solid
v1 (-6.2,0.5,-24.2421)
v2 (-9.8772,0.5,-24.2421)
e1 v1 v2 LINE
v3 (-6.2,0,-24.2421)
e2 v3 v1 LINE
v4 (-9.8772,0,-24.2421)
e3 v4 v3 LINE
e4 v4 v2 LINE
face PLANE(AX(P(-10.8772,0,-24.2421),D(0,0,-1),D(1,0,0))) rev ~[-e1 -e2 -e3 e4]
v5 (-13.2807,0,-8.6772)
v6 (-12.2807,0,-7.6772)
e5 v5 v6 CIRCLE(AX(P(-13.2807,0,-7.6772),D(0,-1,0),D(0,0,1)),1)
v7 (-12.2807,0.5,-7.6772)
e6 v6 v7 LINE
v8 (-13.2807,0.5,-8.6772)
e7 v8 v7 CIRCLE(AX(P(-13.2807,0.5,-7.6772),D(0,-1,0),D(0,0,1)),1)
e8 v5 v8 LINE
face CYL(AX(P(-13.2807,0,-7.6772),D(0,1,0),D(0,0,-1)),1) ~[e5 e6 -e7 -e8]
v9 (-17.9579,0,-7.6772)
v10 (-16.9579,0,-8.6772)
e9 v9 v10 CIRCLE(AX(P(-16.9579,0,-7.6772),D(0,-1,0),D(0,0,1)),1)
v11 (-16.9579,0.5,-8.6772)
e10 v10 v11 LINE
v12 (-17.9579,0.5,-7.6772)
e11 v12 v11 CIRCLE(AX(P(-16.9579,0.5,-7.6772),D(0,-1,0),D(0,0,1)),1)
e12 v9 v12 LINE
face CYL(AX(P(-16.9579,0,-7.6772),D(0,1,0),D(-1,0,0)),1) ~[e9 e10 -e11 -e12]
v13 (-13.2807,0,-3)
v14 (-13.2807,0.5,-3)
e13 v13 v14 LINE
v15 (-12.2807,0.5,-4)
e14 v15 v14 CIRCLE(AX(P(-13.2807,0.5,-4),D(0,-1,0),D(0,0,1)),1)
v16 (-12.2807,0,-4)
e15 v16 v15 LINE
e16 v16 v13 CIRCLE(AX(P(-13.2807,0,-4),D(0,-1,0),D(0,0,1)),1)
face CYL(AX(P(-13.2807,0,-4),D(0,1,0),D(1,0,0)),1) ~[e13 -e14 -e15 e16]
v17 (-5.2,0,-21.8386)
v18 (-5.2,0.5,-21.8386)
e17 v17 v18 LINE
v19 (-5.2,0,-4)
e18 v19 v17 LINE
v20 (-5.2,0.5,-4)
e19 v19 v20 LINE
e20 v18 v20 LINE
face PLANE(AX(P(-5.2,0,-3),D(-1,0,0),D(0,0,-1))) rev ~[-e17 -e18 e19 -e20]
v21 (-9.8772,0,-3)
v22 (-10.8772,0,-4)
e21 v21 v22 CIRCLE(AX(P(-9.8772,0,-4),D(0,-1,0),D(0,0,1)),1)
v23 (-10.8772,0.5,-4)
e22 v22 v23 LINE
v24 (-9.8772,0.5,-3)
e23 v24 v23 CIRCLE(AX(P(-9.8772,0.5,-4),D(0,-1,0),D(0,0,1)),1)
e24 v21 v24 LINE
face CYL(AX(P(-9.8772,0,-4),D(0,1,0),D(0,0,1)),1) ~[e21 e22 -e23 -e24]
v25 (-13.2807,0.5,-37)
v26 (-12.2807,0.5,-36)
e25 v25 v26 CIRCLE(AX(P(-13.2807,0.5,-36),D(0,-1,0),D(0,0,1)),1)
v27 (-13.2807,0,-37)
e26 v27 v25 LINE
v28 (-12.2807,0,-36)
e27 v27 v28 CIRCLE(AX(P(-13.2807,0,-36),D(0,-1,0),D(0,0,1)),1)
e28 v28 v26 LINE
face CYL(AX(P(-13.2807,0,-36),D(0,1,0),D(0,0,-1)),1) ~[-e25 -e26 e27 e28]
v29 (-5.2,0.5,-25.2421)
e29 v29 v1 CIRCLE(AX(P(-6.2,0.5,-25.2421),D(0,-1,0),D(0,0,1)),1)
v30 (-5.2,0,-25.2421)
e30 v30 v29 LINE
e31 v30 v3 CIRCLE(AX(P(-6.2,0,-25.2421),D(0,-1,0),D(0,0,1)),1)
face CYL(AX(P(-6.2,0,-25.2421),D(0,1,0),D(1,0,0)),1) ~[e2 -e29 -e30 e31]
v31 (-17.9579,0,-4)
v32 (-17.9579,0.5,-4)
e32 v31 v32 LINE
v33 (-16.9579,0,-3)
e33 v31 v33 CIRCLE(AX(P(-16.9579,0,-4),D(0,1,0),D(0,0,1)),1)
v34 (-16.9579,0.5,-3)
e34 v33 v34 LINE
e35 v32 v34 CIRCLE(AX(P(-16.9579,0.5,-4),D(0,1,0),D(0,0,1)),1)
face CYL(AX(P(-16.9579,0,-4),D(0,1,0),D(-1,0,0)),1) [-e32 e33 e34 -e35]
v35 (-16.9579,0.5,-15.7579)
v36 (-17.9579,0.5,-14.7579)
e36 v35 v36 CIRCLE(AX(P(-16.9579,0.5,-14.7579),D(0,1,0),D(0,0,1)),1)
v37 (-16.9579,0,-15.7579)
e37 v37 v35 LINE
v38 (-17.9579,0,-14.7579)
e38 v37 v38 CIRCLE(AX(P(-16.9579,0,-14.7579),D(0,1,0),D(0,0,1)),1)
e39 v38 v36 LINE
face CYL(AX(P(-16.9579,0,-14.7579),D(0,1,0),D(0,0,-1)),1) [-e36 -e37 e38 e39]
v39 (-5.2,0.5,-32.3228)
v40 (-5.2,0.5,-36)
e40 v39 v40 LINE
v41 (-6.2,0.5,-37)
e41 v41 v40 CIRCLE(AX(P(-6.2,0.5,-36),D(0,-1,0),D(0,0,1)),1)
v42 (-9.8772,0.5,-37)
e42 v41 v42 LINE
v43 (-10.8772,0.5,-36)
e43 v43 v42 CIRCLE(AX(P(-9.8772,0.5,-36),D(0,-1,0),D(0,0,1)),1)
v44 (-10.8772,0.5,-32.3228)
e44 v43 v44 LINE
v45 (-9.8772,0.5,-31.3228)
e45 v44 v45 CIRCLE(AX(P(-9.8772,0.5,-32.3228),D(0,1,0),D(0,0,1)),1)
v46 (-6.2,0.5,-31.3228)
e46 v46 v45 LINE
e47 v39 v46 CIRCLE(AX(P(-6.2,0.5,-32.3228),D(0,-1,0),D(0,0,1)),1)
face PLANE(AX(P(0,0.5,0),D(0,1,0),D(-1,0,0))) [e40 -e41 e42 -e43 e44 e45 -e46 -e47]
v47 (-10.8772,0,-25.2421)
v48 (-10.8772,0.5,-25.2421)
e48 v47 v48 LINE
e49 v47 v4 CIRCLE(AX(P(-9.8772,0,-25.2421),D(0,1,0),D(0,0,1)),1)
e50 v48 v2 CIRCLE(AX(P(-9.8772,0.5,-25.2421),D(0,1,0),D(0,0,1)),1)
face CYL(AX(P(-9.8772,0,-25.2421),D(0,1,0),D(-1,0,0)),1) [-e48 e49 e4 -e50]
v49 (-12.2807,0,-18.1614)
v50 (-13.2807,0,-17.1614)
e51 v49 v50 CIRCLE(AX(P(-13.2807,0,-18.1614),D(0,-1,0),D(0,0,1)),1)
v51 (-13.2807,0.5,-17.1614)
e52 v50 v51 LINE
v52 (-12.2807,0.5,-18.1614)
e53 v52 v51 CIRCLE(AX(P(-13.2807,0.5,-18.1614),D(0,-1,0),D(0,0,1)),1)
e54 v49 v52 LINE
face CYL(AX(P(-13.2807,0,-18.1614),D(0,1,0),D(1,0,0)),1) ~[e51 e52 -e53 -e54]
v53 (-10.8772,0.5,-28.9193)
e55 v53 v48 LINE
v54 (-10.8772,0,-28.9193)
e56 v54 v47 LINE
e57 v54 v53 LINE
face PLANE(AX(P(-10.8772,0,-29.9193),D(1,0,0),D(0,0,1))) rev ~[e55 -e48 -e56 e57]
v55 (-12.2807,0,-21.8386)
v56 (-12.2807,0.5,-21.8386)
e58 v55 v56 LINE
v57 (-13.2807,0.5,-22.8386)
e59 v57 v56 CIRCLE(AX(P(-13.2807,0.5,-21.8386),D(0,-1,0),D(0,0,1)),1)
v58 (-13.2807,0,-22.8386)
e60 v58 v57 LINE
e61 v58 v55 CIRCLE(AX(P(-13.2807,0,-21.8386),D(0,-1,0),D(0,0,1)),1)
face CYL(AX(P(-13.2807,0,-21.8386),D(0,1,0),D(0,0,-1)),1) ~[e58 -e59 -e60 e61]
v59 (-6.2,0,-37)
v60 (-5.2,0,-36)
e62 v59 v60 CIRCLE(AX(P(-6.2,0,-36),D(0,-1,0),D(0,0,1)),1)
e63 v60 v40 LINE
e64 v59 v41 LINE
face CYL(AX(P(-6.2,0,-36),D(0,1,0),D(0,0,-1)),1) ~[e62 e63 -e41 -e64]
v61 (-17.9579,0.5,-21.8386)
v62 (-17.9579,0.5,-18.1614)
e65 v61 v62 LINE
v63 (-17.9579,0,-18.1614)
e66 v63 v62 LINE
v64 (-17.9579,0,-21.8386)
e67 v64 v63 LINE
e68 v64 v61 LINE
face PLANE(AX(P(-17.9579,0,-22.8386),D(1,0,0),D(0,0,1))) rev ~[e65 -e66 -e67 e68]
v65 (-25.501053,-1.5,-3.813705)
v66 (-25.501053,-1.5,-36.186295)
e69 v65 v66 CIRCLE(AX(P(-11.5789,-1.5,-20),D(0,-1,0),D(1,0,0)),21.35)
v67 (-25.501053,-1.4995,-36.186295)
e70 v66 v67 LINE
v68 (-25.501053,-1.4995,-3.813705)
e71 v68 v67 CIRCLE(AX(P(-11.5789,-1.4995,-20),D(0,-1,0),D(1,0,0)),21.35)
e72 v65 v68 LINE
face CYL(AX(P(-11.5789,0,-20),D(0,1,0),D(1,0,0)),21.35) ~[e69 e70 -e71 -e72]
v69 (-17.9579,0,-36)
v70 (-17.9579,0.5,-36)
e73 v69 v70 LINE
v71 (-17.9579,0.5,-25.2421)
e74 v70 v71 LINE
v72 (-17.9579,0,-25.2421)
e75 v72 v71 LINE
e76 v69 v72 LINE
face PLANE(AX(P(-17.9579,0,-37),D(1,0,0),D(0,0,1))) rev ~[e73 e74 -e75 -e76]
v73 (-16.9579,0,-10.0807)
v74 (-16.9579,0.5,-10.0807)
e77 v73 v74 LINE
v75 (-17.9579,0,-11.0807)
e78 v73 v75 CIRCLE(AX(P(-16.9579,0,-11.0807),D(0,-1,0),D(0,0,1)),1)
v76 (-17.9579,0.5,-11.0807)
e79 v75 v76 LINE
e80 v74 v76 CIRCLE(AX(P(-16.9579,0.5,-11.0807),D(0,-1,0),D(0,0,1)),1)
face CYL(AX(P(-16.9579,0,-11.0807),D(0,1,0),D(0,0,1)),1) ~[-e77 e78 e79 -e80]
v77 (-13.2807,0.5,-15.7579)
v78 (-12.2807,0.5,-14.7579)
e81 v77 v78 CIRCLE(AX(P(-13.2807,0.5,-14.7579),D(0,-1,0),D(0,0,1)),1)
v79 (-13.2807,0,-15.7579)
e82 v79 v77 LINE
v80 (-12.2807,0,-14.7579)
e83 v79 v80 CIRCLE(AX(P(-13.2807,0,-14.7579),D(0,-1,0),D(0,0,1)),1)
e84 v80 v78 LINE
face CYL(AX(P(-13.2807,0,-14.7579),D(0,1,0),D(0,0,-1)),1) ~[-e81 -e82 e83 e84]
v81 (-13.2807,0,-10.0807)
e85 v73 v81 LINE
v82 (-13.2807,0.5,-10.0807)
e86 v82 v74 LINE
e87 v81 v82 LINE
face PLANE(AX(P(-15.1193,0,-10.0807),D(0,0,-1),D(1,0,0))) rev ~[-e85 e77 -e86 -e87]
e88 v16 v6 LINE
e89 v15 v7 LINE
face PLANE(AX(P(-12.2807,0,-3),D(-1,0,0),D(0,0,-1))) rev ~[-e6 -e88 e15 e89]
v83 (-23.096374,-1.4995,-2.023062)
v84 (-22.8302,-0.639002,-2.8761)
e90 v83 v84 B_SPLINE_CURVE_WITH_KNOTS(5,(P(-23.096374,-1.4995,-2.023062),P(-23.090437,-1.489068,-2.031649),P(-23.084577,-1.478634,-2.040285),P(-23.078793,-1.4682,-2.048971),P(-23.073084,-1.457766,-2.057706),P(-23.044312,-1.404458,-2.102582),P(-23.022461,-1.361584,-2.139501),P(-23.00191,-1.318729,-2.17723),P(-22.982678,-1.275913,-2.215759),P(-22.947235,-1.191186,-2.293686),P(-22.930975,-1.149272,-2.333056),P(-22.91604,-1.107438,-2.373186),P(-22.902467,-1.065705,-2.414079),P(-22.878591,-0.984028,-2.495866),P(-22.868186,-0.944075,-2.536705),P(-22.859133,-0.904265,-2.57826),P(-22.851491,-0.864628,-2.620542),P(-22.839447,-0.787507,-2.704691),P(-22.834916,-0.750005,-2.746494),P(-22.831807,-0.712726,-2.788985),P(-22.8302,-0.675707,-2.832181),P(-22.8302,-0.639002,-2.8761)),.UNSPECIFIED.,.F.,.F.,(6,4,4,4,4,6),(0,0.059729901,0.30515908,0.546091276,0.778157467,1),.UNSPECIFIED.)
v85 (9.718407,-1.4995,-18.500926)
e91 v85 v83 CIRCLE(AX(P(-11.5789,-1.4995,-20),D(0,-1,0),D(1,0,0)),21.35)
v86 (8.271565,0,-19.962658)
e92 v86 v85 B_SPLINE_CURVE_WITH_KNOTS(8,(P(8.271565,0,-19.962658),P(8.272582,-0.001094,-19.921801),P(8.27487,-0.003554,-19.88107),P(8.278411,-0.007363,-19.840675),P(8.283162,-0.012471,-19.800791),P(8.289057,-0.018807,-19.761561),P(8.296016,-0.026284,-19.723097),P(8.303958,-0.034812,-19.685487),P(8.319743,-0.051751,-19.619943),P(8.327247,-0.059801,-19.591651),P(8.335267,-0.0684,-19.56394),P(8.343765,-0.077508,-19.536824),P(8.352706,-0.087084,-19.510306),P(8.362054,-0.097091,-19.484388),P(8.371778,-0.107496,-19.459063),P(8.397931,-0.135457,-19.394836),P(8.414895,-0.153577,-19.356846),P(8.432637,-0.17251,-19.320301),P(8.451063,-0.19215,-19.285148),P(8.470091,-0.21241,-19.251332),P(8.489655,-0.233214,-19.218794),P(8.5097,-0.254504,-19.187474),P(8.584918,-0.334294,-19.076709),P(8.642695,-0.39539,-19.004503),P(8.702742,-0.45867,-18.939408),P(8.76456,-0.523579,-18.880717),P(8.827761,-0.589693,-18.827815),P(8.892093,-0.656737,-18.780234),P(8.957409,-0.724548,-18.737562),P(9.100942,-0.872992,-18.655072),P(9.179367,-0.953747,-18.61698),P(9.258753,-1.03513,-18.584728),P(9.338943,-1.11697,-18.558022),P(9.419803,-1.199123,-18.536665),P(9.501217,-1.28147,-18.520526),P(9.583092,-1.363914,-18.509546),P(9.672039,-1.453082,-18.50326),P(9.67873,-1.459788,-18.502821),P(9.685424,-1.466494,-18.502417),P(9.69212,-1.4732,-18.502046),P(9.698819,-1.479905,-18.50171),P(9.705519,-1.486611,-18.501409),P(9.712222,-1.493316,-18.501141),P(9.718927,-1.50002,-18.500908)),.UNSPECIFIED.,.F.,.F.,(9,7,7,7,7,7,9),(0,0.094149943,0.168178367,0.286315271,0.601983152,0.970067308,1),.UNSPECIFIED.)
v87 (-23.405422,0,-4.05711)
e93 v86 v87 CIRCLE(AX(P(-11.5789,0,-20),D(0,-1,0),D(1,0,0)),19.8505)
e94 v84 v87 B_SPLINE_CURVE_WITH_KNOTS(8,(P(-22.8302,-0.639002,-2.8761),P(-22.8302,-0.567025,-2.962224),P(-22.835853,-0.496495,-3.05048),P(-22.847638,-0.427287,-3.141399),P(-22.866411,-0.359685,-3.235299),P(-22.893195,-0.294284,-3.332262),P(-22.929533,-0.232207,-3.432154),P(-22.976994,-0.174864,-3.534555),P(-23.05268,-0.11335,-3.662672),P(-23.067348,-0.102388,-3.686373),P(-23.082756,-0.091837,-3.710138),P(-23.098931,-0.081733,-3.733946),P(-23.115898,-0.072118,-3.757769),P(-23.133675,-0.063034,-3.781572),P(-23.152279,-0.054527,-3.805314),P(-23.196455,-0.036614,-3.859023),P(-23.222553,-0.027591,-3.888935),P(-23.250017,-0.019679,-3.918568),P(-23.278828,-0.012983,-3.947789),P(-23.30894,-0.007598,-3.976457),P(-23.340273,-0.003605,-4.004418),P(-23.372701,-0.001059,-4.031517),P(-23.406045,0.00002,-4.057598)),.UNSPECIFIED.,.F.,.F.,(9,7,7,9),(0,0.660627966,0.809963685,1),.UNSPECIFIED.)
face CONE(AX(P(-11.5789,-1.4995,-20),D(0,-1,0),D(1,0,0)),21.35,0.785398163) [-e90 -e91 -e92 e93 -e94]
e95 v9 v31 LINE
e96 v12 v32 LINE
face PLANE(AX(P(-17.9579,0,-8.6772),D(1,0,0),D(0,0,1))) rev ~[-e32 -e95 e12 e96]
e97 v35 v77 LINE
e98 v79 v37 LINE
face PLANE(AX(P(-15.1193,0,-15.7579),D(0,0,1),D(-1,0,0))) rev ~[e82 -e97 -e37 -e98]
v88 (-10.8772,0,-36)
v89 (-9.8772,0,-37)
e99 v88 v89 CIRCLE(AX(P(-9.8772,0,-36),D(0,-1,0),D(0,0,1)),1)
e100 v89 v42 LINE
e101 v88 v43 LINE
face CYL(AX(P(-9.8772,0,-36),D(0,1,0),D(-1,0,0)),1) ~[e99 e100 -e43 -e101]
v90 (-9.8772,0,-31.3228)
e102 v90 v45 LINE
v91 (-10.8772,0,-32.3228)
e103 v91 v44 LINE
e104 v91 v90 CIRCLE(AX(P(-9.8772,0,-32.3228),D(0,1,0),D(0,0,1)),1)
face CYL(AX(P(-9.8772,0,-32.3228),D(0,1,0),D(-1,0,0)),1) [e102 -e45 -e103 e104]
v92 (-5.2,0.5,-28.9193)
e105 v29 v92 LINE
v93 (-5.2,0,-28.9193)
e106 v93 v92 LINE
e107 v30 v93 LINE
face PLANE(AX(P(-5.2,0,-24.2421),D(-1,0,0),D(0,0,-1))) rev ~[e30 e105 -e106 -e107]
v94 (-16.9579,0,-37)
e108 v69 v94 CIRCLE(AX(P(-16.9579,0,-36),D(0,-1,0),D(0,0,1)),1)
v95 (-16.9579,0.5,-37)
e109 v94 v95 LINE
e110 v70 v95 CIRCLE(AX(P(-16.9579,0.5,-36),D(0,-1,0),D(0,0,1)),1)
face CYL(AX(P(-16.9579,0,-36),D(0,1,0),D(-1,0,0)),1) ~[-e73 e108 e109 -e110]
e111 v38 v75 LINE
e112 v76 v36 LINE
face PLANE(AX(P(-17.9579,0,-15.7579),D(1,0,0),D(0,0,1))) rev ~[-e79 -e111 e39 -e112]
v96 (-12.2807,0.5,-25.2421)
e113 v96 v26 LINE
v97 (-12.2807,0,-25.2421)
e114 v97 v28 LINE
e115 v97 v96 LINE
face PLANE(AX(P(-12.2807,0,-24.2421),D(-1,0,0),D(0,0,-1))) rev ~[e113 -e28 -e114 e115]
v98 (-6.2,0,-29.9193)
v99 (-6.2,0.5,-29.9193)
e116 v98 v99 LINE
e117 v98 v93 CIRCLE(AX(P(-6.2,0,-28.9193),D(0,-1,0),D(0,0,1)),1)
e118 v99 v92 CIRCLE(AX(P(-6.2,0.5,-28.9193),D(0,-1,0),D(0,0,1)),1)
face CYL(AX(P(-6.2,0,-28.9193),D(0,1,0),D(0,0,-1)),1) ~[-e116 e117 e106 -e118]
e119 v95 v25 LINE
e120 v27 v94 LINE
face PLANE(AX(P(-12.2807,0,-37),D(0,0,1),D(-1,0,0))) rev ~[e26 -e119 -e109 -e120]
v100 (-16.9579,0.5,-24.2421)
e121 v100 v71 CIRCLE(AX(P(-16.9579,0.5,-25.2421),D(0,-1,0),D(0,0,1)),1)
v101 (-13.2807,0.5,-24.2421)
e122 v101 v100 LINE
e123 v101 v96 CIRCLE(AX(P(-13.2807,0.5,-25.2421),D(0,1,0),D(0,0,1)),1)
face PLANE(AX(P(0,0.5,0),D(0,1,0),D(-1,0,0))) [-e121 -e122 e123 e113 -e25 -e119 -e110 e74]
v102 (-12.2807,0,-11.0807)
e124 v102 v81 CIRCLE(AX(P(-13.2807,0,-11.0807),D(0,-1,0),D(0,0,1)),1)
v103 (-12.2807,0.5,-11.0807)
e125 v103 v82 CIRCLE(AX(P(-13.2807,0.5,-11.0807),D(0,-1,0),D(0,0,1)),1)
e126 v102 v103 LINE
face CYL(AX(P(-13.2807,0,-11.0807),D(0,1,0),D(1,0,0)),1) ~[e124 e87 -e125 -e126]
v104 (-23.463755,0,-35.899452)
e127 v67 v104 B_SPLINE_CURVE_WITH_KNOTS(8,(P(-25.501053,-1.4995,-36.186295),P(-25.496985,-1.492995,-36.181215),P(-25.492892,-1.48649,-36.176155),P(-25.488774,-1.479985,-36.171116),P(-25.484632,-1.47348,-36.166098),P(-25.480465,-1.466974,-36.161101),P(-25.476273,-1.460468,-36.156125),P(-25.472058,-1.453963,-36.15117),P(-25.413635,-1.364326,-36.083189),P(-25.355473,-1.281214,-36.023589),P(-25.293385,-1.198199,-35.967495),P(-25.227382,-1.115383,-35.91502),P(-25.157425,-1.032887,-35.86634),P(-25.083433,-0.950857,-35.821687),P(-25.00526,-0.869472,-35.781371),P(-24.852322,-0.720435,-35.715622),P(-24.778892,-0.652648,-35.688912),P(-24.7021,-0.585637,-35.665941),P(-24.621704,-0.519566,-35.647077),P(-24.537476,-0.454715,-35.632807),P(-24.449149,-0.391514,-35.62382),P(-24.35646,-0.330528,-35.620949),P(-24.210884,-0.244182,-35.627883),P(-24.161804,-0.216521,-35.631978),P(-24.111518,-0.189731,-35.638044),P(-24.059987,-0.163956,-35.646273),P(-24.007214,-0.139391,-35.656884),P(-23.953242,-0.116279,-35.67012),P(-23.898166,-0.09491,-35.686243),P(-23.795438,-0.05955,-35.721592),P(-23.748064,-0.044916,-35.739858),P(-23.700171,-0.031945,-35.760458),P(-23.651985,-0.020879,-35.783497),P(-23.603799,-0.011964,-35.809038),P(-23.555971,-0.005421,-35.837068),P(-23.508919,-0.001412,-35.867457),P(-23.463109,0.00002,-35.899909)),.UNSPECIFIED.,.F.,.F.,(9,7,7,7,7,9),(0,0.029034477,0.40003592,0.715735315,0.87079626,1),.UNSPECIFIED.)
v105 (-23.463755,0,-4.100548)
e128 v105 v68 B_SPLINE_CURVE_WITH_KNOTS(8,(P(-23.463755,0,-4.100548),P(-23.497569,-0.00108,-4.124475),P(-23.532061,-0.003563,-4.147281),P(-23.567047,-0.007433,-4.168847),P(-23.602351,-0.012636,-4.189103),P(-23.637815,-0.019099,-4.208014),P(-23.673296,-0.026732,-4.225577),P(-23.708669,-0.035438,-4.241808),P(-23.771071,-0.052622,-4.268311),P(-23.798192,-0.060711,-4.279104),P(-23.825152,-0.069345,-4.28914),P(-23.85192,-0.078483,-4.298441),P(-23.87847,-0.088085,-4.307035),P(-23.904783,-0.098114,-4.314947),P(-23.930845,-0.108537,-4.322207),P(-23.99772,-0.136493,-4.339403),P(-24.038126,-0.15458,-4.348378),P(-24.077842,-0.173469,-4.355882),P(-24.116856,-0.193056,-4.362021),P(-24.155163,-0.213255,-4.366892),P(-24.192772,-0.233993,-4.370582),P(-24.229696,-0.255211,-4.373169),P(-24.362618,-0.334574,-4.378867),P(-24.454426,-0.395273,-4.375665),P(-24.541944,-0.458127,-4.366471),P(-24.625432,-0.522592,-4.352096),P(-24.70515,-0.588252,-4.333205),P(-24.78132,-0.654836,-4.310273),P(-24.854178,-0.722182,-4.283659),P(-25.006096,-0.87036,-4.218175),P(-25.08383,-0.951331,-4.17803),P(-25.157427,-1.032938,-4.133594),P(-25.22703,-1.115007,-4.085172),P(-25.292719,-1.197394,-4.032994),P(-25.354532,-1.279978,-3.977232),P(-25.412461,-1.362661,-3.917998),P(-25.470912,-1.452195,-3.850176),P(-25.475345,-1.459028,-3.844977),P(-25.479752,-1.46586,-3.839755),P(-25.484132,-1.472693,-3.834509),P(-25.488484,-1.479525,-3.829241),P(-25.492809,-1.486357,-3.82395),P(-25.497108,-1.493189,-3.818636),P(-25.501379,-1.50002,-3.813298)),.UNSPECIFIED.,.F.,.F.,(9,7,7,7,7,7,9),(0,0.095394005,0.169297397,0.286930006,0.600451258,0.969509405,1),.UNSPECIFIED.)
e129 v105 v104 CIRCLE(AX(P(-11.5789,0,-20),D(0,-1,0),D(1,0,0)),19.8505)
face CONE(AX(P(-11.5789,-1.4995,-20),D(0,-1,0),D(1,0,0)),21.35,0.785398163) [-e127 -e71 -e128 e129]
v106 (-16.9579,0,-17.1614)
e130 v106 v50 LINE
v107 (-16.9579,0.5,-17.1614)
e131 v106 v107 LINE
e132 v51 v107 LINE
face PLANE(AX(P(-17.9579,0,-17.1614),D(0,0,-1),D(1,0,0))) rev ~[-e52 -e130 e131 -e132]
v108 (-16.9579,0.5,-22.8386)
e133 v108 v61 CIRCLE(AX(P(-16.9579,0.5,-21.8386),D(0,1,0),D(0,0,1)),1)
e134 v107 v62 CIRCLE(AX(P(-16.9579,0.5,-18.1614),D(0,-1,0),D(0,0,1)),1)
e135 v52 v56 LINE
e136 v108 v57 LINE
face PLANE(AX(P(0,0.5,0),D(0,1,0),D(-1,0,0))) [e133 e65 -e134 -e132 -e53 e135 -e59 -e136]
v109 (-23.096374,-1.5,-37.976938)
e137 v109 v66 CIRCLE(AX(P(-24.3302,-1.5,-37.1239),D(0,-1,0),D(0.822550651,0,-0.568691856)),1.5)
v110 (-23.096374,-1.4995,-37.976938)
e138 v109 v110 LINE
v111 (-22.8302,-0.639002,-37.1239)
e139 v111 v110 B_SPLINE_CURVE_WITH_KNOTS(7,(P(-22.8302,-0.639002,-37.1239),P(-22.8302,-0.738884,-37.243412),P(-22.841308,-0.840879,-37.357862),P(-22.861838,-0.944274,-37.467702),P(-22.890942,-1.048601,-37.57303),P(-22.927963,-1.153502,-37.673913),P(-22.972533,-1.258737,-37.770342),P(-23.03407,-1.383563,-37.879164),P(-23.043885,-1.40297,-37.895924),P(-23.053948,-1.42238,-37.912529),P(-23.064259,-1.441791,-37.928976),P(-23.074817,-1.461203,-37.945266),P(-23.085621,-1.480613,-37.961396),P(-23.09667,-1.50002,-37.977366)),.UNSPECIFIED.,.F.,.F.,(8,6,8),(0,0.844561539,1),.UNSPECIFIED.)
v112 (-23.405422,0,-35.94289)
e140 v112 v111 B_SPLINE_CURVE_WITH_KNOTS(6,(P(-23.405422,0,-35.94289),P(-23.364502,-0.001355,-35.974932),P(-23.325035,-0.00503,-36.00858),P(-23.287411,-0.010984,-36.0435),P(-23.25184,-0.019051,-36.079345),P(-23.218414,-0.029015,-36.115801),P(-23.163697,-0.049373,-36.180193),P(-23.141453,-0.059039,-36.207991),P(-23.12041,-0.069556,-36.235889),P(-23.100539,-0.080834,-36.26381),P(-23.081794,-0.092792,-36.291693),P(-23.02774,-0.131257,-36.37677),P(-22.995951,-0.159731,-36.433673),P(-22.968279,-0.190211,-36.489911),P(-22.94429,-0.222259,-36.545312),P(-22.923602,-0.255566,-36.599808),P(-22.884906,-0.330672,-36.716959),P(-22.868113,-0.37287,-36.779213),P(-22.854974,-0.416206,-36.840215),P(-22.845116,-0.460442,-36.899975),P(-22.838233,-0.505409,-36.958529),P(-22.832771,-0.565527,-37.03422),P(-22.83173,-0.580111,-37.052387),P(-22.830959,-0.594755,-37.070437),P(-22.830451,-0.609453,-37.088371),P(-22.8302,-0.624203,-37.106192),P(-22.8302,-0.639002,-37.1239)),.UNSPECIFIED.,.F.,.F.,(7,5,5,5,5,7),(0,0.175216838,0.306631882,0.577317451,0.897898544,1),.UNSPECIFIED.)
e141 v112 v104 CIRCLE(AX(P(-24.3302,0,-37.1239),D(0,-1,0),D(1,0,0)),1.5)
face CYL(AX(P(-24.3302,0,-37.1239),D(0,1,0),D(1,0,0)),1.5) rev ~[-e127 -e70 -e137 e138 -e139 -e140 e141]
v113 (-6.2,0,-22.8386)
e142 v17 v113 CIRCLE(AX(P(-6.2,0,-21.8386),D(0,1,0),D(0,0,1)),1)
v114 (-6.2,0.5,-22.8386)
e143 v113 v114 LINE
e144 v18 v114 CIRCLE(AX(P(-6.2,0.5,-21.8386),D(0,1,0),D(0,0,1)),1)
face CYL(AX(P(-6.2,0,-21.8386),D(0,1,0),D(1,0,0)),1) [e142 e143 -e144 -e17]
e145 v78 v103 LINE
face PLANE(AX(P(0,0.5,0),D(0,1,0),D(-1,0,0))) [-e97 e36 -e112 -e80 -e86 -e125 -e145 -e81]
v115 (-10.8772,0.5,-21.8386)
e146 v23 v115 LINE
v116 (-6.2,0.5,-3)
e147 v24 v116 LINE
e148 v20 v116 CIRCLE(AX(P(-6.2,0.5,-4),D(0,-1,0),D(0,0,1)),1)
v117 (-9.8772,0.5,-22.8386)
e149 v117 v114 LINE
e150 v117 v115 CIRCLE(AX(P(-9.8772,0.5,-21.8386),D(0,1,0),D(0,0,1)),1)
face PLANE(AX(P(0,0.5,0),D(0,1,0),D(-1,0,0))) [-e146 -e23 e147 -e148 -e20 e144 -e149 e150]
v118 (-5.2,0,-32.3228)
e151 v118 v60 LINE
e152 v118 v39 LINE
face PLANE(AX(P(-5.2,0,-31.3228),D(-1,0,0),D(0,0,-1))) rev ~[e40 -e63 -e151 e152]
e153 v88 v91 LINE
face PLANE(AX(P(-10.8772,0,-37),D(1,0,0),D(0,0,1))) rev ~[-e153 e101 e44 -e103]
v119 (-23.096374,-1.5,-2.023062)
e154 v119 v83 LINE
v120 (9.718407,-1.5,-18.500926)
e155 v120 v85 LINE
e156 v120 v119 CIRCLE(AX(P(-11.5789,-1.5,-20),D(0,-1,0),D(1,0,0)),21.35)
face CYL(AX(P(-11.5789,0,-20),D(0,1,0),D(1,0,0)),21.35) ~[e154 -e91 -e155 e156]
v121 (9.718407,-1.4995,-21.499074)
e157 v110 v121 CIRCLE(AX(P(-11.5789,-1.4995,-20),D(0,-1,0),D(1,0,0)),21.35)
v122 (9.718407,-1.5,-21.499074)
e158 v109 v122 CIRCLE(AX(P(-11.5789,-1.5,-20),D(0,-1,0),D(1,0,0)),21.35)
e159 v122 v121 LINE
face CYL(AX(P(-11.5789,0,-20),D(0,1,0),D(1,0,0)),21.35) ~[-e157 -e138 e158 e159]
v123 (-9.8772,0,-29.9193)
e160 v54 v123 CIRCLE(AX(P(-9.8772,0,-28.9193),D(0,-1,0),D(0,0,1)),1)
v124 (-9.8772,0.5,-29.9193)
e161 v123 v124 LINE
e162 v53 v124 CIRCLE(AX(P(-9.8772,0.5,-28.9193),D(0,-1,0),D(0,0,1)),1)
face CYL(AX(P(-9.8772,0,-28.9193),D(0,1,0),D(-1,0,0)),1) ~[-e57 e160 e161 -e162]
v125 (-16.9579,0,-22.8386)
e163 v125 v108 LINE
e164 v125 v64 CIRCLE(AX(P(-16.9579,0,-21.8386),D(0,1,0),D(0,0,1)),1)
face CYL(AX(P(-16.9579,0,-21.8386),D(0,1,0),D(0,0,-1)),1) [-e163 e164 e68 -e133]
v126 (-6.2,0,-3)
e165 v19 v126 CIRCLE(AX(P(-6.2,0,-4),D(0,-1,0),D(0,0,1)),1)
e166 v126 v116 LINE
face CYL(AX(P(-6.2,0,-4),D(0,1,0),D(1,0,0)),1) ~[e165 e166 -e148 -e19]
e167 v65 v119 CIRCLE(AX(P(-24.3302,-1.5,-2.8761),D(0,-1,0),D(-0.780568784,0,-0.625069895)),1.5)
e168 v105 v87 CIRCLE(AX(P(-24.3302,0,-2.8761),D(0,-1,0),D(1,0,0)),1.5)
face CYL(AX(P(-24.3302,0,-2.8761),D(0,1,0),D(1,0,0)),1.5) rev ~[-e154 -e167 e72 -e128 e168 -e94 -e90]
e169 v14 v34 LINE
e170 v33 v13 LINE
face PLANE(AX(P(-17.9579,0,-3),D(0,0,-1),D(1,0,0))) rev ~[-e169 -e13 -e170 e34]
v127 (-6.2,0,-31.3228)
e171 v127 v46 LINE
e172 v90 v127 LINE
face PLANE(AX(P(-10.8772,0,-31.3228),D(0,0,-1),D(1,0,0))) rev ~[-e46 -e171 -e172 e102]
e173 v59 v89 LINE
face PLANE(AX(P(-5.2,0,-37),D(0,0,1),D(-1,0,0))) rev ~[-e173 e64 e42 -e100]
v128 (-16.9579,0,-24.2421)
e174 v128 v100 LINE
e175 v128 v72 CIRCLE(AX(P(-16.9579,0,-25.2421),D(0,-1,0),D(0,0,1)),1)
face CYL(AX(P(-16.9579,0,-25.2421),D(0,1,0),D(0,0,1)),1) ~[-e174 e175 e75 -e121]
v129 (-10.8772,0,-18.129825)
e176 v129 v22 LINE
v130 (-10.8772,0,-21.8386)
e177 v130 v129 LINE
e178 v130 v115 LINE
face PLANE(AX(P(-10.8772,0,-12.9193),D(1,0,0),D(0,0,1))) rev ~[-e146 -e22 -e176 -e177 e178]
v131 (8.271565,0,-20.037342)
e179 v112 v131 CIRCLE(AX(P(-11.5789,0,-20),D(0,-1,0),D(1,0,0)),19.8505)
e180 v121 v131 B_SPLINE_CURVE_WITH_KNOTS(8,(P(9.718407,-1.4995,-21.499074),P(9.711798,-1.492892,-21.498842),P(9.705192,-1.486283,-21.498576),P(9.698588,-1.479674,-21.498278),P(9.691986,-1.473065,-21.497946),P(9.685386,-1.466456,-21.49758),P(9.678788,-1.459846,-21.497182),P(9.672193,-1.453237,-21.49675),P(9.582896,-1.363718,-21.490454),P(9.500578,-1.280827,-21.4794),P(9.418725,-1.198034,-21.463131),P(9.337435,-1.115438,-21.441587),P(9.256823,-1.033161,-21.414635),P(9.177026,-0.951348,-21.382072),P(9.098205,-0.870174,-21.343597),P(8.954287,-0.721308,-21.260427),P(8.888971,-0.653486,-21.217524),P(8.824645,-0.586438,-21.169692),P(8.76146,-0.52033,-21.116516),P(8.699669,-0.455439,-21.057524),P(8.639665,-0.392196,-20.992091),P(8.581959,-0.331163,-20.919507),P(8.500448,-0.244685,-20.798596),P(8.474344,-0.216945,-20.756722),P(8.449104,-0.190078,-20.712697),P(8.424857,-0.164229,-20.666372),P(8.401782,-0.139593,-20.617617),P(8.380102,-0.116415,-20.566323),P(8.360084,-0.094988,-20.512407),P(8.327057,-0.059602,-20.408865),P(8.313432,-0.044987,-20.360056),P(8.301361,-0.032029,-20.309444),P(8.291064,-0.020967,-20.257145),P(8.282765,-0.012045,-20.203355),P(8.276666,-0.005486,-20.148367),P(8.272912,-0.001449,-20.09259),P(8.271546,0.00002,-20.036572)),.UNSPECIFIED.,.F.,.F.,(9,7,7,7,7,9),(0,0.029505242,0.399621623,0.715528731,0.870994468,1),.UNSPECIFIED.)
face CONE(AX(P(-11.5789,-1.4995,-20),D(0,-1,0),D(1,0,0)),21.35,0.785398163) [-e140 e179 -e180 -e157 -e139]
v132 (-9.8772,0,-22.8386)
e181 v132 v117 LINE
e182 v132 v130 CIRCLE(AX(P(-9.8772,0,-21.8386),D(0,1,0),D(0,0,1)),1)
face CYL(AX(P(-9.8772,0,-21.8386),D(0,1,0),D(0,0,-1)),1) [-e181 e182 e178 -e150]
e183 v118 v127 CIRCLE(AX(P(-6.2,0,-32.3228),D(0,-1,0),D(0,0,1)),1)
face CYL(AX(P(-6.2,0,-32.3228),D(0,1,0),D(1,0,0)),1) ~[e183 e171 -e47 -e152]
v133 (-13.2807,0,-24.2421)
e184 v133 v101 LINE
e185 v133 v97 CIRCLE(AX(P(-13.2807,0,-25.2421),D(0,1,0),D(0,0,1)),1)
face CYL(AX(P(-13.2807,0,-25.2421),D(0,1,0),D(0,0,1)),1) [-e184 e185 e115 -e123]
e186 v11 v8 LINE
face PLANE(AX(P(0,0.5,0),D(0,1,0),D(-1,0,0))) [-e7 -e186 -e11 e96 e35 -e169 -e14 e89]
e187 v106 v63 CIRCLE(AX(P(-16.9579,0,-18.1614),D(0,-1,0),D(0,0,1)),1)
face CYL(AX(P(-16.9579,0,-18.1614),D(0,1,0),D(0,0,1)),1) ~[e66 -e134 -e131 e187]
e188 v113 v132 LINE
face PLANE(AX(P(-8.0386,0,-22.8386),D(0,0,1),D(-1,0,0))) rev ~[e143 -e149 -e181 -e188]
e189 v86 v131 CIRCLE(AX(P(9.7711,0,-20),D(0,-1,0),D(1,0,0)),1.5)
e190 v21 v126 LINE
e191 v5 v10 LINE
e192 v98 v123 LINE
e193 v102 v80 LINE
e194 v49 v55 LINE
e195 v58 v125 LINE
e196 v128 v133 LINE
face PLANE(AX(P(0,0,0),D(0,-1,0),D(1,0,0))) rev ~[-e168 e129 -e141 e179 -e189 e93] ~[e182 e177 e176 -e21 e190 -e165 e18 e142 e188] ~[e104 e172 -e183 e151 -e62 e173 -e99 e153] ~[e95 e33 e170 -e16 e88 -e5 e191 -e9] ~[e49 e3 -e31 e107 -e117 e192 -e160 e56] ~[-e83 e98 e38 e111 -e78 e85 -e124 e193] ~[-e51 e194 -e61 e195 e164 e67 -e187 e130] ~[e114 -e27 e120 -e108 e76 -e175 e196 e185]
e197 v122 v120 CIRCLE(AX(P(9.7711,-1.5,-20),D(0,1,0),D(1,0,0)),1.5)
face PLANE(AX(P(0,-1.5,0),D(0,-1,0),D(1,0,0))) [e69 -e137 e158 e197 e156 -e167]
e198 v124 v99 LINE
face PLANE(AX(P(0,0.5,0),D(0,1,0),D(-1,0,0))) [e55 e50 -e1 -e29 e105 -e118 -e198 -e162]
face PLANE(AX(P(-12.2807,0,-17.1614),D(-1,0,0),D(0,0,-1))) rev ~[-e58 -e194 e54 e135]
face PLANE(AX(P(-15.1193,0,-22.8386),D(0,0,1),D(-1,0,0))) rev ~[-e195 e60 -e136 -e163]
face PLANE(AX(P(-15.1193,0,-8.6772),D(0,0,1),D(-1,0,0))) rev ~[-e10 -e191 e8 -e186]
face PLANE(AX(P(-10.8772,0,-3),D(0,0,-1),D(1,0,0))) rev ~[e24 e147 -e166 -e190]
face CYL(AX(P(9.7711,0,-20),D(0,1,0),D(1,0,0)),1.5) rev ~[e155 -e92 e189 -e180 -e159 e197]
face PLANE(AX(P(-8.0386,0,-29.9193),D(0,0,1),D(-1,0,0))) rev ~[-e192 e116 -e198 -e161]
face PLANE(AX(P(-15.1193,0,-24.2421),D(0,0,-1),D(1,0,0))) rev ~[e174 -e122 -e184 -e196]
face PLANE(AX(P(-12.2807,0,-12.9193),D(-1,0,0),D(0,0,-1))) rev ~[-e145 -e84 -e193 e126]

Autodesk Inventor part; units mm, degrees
ref_plane "YZ Plane" through (0, 0, 0) normal (1, 0, 0) x (0, 1, 0)
ref_plane "XZ Plane" through (0, 0, 0) normal (0, 1, 0) x (-1, 0, 0)
ref_plane "XY Plane" through (0, 0, 0) normal (0, 0, 1) x (1, 0, 0)
sketch "Эскиз1" plane through (0, 0, 0) normal (0, 1, 0) x (-1, 0, 0)
  line L0 (0, 0) -> (23.1579, 0)
  line L1 (23.1579, 0) -> (23.1579, -40)
  line L2 (23.1579, -40) -> (0, -40)
  line L3 (0, -40) -> (0, 0)
  line L4 (17.9579, -3) -> (12.2807, -3)
  line L5 (12.2807, -3) -> (12.2807, -8.6772)
  line L6 (12.2807, -8.6772) -> (17.9579, -8.6772)
  line L7 (17.9579, -8.6772) -> (17.9579, -3)
  line L8 (17.9579, -10.0807) -> (12.2807, -10.0807)
  line L9 (12.2807, -10.0807) -> (12.2807, -15.7579)
  line L10 (12.2807, -15.7579) -> (17.9579, -15.7579)
  line L11 (17.9579, -15.7579) -> (17.9579, -10.0807)
  line L12 (17.9579, -17.1614) -> (12.2807, -17.1614)
  line L13 (12.2807, -17.1614) -> (12.2807, -22.8386)
  line L14 (12.2807, -22.8386) -> (17.9579, -22.8386)
  line L15 (17.9579, -22.8386) -> (17.9579, -17.1614)
  line L16 (17.9579, -24.2421) -> (12.2807, -24.2421)
  line L17 (12.2807, -24.2421) -> (12.2807, -37)
  line L18 (12.2807, -37) -> (17.9579, -37)
  line L19 (17.9579, -37) -> (17.9579, -24.2421)
  line L20 (10.8772, -24.2421) -> (5.2, -24.2421)
  line L21 (5.2, -24.2421) -> (5.2, -29.9193)
  line L22 (5.2, -29.9193) -> (10.8772, -29.9193)
  line L23 (10.8772, -29.9193) -> (10.8772, -24.2421)
  line L24 (10.8772, -31.3228) -> (5.2, -31.3228)
  line L25 (5.2, -31.3228) -> (5.2, -37)
  line L26 (5.2, -37) -> (10.8772, -37)
  line L27 (10.8772, -37) -> (10.8772, -31.3228)
  line L28 (10.8772, -3) -> (5.2, -3)
  line L29 (5.2, -3) -> (5.2, -22.8386)
  line L30 (5.2, -22.8386) -> (10.8772, -22.8386)
  line L31 (10.8772, -22.8386) -> (10.8772, -3)
  line L32 (15.1193, -8.6772) -> (15.1193, -10.0807)
  line L33 (15.1193, -15.7579) -> (15.1193, -17.1614)
  line L34 (15.1193, -22.8386) -> (15.1193, -24.2421)
  line L35 (8.0386, -22.8386) -> (8.0386, -24.2421)
  line L36 (8.0386, -29.9193) -> (8.0386, -31.3228)
  line L37 (15.1193, -3) -> (15.1193, 0)
  line L38 (15.1193, -37) -> (15.1193, -40)
  line L39 (17.9579, -12.9193) -> (23.1579, -12.9193)
  line L40 (5.2, -12.9193) -> (0, -12.9193)
  line L41 (12.2807, -12.9193) -> (10.8772, -12.9193)
  dimension "d0" = 23.1579
  dimension "d1" = 40
  dimension "d9" = 5.2
  dimension "d21" = 3
extrude "Выдавливание1" add sketch "Эскиз1" along normal blind 0.5 contours L24 L27 L26 L25 | L20 L23 L22 L21 | L4 L7 L6 L5 | L29 L28 L31 L30 | L11 L10 L9 L8 | L18 L17 L16 L19 | L12 L15 L14 L13
sketch "Эскиз2" plane through (0, 0, 0) normal (0, -1, 0) x (1, 0, 0)
  line L0 (-5.2, -22.8386) -> (-10.8772, -22.8386) projected
  line L1 (-10.8772, -22.8386) -> (-10.8772, -3) projected
  line L2 (-10.8772, -3) -> (-5.2, -3) projected
  line L3 (-5.2, -3) -> (-5.2, -22.8386) projected
  line L4 (-5.2, -31.3228) -> (-5.2, -37) projected
  line L5 (-5.2, -37) -> (-10.8772, -37) projected
  line L6 (-10.8772, -37) -> (-10.8772, -31.3228) projected
  line L7 (-10.8772, -31.3228) -> (-5.2, -31.3228) projected
  line L8 (-17.9579, -17.1614) -> (-12.2807, -17.1614) projected
  line L9 (-12.2807, -22.8386) -> (-17.9579, -22.8386) projected
  line L10 (-17.9579, -22.8386) -> (-17.9579, -17.1614) projected
  line L11 (-17.9579, -37) -> (-17.9579, -24.2421) projected
  line L12 (-17.9579, -24.2421) -> (-12.2807, -24.2421) projected
  line L13 (-12.2807, -37) -> (-17.9579, -37) projected
  line L14 (-12.2807, -15.7579) -> (-17.9579, -15.7579) projected
  line L15 (-17.9579, -15.7579) -> (-17.9579, -10.0807) projected
  line L16 (-17.9579, -10.0807) -> (-12.2807, -10.0807) projected
  line L17 (-17.9579, -8.6772) -> (-17.9579, -3) projected
  line L18 (-17.9579, -3) -> (-12.2807, -3) projected
  line L19 (-12.2807, -8.6772) -> (-17.9579, -8.6772) projected
  line L20 (-5.2, -24.2421) -> (-5.2, -29.9193) projected
  line L21 (-5.2, -29.9193) -> (-10.8772, -29.9193) projected
  line L22 (-10.8772, -29.9193) -> (-10.8772, -24.2421) projected
  line L23 (-10.8772, -24.2421) -> (-5.2, -24.2421) projected
  line L24 (-12.2807, -17.1614) -> (-12.2807, -22.8386) projected
  line L25 (-12.2807, -24.2421) -> (-12.2807, -37) projected
  line L26 (-12.2807, -10.0807) -> (-12.2807, -15.7579) projected
  line L27 (-12.2807, -3) -> (-12.2807, -8.6772) projected
  line L28 (-10.8772, -3) -> (-5.2, -3) projected
  line L29 (-17.9579, -37) -> (-5.2, -3)
  circle A0 centre (-11.5789, -20) radius 21.35
  dimension "d24" = 42.7
extrude "Выдавливание2" add sketch "Эскиз2" along normal blind 1.5 contours L12 L25 L13 L29 | L29 L11 L12 | L24 L9 L29 | L29 L9 L10 L8 L24 | L0 L1 L29 L3 | L29 L1 L2 | L4 L5 L6 L7 | L14 L15 L16 L26 | L17 L18 L27 L19 | L20 L21 L22 L23 | A0
fillet "Сопряжение1" radius 1 28 edges at (-17.9579, 0.25, -3) (-17.9579, 0.25, -8.6772) (-12.2807, 0.25, -3) (-12.2807, 0.25, -8.6772) (-17.9579, 0.25, -15.7579) (-17.9579, 0.25, -10.0807) (-12.2807, 0.25, -10.0807) (-12.2807, 0.25, -15.7579) (-12.2807, 0.25, -22.8386) (-5.2, 0.25, -29.9193) (-5.2, 0.25, -22.8386) (-5.2, 0.25, -37) (-17.9579, 0.25, -22.8386) (-17.9579, 0.25, -37) (-10.8772, 0.25, -22.8386) (-10.8772, 0.25, -29.9193) (-10.8772, 0.25, -37) (-17.9579, 0.25, -24.2421) (-10.8772, 0.25, -3) (-12.2807, 0.25, -24.2421) (-5.2, 0.25, -24.2421) (-5.2, 0.25, -3) (-10.8772, 0.25, -24.2421) (-17.9579, 0.25, -17.1614) (-12.2807, 0.25, -17.1614) (-12.2807, 0.25, -37) (-10.8772, 0.25, -31.3228) (-5.2, 0.25, -31.3228)
chamfer "Фаска1" distance 1.5 angle 45 1 edges at (-32.9289, 0, -20)
sketch "Эскиз5" plane through (-11.5789, 0, -20) normal (0, 1, 0) x (1, 0, 0)
  circle A0 centre (0, 0) radius 19.85 projected
  circle A1 centre (0, 0) radius 21.35 projected
  circle A2 centre (21.35, 0) radius 1.5
  circle A3 centre (-12.7513, 17.1239) radius 1.5
  circle A4 centre (-12.7513, -17.1239) radius 1.5
  line L0 (28, 0) -> (-19.5959, 20)
  line L1 (28, 0) -> (-19.5959, -20)
  line L2 (-19.5959, 20) -> (-19.5959, -20)
  line L3 (0, 0) -> (-19.5959, 20)
  line L4 (0, 0) -> (-19.5959, -20)
  line L5 (28, 0) -> (0, 0)
  point P0 (11.5789, -20)
  dimension "d28" = 40
  dimension "d29" = 28
extrude "Выдавливание5" cut sketch "Эскиз5" against normal blind 1.5 contours L5 A1 A2 | A2 A1 L5 | A2 L5 A1 | A1 L5 A2 | A3 A1 L0 | L0 A1 A3 | A1 L0 A3 | A4 L1 A1 | A4 A1 L1 | A4 L1 A1 | A3 L0 A1 | A1 L1 A4
equation "\"d0\" = 0.578947 * d1"
properties part number "Лого ШП"
